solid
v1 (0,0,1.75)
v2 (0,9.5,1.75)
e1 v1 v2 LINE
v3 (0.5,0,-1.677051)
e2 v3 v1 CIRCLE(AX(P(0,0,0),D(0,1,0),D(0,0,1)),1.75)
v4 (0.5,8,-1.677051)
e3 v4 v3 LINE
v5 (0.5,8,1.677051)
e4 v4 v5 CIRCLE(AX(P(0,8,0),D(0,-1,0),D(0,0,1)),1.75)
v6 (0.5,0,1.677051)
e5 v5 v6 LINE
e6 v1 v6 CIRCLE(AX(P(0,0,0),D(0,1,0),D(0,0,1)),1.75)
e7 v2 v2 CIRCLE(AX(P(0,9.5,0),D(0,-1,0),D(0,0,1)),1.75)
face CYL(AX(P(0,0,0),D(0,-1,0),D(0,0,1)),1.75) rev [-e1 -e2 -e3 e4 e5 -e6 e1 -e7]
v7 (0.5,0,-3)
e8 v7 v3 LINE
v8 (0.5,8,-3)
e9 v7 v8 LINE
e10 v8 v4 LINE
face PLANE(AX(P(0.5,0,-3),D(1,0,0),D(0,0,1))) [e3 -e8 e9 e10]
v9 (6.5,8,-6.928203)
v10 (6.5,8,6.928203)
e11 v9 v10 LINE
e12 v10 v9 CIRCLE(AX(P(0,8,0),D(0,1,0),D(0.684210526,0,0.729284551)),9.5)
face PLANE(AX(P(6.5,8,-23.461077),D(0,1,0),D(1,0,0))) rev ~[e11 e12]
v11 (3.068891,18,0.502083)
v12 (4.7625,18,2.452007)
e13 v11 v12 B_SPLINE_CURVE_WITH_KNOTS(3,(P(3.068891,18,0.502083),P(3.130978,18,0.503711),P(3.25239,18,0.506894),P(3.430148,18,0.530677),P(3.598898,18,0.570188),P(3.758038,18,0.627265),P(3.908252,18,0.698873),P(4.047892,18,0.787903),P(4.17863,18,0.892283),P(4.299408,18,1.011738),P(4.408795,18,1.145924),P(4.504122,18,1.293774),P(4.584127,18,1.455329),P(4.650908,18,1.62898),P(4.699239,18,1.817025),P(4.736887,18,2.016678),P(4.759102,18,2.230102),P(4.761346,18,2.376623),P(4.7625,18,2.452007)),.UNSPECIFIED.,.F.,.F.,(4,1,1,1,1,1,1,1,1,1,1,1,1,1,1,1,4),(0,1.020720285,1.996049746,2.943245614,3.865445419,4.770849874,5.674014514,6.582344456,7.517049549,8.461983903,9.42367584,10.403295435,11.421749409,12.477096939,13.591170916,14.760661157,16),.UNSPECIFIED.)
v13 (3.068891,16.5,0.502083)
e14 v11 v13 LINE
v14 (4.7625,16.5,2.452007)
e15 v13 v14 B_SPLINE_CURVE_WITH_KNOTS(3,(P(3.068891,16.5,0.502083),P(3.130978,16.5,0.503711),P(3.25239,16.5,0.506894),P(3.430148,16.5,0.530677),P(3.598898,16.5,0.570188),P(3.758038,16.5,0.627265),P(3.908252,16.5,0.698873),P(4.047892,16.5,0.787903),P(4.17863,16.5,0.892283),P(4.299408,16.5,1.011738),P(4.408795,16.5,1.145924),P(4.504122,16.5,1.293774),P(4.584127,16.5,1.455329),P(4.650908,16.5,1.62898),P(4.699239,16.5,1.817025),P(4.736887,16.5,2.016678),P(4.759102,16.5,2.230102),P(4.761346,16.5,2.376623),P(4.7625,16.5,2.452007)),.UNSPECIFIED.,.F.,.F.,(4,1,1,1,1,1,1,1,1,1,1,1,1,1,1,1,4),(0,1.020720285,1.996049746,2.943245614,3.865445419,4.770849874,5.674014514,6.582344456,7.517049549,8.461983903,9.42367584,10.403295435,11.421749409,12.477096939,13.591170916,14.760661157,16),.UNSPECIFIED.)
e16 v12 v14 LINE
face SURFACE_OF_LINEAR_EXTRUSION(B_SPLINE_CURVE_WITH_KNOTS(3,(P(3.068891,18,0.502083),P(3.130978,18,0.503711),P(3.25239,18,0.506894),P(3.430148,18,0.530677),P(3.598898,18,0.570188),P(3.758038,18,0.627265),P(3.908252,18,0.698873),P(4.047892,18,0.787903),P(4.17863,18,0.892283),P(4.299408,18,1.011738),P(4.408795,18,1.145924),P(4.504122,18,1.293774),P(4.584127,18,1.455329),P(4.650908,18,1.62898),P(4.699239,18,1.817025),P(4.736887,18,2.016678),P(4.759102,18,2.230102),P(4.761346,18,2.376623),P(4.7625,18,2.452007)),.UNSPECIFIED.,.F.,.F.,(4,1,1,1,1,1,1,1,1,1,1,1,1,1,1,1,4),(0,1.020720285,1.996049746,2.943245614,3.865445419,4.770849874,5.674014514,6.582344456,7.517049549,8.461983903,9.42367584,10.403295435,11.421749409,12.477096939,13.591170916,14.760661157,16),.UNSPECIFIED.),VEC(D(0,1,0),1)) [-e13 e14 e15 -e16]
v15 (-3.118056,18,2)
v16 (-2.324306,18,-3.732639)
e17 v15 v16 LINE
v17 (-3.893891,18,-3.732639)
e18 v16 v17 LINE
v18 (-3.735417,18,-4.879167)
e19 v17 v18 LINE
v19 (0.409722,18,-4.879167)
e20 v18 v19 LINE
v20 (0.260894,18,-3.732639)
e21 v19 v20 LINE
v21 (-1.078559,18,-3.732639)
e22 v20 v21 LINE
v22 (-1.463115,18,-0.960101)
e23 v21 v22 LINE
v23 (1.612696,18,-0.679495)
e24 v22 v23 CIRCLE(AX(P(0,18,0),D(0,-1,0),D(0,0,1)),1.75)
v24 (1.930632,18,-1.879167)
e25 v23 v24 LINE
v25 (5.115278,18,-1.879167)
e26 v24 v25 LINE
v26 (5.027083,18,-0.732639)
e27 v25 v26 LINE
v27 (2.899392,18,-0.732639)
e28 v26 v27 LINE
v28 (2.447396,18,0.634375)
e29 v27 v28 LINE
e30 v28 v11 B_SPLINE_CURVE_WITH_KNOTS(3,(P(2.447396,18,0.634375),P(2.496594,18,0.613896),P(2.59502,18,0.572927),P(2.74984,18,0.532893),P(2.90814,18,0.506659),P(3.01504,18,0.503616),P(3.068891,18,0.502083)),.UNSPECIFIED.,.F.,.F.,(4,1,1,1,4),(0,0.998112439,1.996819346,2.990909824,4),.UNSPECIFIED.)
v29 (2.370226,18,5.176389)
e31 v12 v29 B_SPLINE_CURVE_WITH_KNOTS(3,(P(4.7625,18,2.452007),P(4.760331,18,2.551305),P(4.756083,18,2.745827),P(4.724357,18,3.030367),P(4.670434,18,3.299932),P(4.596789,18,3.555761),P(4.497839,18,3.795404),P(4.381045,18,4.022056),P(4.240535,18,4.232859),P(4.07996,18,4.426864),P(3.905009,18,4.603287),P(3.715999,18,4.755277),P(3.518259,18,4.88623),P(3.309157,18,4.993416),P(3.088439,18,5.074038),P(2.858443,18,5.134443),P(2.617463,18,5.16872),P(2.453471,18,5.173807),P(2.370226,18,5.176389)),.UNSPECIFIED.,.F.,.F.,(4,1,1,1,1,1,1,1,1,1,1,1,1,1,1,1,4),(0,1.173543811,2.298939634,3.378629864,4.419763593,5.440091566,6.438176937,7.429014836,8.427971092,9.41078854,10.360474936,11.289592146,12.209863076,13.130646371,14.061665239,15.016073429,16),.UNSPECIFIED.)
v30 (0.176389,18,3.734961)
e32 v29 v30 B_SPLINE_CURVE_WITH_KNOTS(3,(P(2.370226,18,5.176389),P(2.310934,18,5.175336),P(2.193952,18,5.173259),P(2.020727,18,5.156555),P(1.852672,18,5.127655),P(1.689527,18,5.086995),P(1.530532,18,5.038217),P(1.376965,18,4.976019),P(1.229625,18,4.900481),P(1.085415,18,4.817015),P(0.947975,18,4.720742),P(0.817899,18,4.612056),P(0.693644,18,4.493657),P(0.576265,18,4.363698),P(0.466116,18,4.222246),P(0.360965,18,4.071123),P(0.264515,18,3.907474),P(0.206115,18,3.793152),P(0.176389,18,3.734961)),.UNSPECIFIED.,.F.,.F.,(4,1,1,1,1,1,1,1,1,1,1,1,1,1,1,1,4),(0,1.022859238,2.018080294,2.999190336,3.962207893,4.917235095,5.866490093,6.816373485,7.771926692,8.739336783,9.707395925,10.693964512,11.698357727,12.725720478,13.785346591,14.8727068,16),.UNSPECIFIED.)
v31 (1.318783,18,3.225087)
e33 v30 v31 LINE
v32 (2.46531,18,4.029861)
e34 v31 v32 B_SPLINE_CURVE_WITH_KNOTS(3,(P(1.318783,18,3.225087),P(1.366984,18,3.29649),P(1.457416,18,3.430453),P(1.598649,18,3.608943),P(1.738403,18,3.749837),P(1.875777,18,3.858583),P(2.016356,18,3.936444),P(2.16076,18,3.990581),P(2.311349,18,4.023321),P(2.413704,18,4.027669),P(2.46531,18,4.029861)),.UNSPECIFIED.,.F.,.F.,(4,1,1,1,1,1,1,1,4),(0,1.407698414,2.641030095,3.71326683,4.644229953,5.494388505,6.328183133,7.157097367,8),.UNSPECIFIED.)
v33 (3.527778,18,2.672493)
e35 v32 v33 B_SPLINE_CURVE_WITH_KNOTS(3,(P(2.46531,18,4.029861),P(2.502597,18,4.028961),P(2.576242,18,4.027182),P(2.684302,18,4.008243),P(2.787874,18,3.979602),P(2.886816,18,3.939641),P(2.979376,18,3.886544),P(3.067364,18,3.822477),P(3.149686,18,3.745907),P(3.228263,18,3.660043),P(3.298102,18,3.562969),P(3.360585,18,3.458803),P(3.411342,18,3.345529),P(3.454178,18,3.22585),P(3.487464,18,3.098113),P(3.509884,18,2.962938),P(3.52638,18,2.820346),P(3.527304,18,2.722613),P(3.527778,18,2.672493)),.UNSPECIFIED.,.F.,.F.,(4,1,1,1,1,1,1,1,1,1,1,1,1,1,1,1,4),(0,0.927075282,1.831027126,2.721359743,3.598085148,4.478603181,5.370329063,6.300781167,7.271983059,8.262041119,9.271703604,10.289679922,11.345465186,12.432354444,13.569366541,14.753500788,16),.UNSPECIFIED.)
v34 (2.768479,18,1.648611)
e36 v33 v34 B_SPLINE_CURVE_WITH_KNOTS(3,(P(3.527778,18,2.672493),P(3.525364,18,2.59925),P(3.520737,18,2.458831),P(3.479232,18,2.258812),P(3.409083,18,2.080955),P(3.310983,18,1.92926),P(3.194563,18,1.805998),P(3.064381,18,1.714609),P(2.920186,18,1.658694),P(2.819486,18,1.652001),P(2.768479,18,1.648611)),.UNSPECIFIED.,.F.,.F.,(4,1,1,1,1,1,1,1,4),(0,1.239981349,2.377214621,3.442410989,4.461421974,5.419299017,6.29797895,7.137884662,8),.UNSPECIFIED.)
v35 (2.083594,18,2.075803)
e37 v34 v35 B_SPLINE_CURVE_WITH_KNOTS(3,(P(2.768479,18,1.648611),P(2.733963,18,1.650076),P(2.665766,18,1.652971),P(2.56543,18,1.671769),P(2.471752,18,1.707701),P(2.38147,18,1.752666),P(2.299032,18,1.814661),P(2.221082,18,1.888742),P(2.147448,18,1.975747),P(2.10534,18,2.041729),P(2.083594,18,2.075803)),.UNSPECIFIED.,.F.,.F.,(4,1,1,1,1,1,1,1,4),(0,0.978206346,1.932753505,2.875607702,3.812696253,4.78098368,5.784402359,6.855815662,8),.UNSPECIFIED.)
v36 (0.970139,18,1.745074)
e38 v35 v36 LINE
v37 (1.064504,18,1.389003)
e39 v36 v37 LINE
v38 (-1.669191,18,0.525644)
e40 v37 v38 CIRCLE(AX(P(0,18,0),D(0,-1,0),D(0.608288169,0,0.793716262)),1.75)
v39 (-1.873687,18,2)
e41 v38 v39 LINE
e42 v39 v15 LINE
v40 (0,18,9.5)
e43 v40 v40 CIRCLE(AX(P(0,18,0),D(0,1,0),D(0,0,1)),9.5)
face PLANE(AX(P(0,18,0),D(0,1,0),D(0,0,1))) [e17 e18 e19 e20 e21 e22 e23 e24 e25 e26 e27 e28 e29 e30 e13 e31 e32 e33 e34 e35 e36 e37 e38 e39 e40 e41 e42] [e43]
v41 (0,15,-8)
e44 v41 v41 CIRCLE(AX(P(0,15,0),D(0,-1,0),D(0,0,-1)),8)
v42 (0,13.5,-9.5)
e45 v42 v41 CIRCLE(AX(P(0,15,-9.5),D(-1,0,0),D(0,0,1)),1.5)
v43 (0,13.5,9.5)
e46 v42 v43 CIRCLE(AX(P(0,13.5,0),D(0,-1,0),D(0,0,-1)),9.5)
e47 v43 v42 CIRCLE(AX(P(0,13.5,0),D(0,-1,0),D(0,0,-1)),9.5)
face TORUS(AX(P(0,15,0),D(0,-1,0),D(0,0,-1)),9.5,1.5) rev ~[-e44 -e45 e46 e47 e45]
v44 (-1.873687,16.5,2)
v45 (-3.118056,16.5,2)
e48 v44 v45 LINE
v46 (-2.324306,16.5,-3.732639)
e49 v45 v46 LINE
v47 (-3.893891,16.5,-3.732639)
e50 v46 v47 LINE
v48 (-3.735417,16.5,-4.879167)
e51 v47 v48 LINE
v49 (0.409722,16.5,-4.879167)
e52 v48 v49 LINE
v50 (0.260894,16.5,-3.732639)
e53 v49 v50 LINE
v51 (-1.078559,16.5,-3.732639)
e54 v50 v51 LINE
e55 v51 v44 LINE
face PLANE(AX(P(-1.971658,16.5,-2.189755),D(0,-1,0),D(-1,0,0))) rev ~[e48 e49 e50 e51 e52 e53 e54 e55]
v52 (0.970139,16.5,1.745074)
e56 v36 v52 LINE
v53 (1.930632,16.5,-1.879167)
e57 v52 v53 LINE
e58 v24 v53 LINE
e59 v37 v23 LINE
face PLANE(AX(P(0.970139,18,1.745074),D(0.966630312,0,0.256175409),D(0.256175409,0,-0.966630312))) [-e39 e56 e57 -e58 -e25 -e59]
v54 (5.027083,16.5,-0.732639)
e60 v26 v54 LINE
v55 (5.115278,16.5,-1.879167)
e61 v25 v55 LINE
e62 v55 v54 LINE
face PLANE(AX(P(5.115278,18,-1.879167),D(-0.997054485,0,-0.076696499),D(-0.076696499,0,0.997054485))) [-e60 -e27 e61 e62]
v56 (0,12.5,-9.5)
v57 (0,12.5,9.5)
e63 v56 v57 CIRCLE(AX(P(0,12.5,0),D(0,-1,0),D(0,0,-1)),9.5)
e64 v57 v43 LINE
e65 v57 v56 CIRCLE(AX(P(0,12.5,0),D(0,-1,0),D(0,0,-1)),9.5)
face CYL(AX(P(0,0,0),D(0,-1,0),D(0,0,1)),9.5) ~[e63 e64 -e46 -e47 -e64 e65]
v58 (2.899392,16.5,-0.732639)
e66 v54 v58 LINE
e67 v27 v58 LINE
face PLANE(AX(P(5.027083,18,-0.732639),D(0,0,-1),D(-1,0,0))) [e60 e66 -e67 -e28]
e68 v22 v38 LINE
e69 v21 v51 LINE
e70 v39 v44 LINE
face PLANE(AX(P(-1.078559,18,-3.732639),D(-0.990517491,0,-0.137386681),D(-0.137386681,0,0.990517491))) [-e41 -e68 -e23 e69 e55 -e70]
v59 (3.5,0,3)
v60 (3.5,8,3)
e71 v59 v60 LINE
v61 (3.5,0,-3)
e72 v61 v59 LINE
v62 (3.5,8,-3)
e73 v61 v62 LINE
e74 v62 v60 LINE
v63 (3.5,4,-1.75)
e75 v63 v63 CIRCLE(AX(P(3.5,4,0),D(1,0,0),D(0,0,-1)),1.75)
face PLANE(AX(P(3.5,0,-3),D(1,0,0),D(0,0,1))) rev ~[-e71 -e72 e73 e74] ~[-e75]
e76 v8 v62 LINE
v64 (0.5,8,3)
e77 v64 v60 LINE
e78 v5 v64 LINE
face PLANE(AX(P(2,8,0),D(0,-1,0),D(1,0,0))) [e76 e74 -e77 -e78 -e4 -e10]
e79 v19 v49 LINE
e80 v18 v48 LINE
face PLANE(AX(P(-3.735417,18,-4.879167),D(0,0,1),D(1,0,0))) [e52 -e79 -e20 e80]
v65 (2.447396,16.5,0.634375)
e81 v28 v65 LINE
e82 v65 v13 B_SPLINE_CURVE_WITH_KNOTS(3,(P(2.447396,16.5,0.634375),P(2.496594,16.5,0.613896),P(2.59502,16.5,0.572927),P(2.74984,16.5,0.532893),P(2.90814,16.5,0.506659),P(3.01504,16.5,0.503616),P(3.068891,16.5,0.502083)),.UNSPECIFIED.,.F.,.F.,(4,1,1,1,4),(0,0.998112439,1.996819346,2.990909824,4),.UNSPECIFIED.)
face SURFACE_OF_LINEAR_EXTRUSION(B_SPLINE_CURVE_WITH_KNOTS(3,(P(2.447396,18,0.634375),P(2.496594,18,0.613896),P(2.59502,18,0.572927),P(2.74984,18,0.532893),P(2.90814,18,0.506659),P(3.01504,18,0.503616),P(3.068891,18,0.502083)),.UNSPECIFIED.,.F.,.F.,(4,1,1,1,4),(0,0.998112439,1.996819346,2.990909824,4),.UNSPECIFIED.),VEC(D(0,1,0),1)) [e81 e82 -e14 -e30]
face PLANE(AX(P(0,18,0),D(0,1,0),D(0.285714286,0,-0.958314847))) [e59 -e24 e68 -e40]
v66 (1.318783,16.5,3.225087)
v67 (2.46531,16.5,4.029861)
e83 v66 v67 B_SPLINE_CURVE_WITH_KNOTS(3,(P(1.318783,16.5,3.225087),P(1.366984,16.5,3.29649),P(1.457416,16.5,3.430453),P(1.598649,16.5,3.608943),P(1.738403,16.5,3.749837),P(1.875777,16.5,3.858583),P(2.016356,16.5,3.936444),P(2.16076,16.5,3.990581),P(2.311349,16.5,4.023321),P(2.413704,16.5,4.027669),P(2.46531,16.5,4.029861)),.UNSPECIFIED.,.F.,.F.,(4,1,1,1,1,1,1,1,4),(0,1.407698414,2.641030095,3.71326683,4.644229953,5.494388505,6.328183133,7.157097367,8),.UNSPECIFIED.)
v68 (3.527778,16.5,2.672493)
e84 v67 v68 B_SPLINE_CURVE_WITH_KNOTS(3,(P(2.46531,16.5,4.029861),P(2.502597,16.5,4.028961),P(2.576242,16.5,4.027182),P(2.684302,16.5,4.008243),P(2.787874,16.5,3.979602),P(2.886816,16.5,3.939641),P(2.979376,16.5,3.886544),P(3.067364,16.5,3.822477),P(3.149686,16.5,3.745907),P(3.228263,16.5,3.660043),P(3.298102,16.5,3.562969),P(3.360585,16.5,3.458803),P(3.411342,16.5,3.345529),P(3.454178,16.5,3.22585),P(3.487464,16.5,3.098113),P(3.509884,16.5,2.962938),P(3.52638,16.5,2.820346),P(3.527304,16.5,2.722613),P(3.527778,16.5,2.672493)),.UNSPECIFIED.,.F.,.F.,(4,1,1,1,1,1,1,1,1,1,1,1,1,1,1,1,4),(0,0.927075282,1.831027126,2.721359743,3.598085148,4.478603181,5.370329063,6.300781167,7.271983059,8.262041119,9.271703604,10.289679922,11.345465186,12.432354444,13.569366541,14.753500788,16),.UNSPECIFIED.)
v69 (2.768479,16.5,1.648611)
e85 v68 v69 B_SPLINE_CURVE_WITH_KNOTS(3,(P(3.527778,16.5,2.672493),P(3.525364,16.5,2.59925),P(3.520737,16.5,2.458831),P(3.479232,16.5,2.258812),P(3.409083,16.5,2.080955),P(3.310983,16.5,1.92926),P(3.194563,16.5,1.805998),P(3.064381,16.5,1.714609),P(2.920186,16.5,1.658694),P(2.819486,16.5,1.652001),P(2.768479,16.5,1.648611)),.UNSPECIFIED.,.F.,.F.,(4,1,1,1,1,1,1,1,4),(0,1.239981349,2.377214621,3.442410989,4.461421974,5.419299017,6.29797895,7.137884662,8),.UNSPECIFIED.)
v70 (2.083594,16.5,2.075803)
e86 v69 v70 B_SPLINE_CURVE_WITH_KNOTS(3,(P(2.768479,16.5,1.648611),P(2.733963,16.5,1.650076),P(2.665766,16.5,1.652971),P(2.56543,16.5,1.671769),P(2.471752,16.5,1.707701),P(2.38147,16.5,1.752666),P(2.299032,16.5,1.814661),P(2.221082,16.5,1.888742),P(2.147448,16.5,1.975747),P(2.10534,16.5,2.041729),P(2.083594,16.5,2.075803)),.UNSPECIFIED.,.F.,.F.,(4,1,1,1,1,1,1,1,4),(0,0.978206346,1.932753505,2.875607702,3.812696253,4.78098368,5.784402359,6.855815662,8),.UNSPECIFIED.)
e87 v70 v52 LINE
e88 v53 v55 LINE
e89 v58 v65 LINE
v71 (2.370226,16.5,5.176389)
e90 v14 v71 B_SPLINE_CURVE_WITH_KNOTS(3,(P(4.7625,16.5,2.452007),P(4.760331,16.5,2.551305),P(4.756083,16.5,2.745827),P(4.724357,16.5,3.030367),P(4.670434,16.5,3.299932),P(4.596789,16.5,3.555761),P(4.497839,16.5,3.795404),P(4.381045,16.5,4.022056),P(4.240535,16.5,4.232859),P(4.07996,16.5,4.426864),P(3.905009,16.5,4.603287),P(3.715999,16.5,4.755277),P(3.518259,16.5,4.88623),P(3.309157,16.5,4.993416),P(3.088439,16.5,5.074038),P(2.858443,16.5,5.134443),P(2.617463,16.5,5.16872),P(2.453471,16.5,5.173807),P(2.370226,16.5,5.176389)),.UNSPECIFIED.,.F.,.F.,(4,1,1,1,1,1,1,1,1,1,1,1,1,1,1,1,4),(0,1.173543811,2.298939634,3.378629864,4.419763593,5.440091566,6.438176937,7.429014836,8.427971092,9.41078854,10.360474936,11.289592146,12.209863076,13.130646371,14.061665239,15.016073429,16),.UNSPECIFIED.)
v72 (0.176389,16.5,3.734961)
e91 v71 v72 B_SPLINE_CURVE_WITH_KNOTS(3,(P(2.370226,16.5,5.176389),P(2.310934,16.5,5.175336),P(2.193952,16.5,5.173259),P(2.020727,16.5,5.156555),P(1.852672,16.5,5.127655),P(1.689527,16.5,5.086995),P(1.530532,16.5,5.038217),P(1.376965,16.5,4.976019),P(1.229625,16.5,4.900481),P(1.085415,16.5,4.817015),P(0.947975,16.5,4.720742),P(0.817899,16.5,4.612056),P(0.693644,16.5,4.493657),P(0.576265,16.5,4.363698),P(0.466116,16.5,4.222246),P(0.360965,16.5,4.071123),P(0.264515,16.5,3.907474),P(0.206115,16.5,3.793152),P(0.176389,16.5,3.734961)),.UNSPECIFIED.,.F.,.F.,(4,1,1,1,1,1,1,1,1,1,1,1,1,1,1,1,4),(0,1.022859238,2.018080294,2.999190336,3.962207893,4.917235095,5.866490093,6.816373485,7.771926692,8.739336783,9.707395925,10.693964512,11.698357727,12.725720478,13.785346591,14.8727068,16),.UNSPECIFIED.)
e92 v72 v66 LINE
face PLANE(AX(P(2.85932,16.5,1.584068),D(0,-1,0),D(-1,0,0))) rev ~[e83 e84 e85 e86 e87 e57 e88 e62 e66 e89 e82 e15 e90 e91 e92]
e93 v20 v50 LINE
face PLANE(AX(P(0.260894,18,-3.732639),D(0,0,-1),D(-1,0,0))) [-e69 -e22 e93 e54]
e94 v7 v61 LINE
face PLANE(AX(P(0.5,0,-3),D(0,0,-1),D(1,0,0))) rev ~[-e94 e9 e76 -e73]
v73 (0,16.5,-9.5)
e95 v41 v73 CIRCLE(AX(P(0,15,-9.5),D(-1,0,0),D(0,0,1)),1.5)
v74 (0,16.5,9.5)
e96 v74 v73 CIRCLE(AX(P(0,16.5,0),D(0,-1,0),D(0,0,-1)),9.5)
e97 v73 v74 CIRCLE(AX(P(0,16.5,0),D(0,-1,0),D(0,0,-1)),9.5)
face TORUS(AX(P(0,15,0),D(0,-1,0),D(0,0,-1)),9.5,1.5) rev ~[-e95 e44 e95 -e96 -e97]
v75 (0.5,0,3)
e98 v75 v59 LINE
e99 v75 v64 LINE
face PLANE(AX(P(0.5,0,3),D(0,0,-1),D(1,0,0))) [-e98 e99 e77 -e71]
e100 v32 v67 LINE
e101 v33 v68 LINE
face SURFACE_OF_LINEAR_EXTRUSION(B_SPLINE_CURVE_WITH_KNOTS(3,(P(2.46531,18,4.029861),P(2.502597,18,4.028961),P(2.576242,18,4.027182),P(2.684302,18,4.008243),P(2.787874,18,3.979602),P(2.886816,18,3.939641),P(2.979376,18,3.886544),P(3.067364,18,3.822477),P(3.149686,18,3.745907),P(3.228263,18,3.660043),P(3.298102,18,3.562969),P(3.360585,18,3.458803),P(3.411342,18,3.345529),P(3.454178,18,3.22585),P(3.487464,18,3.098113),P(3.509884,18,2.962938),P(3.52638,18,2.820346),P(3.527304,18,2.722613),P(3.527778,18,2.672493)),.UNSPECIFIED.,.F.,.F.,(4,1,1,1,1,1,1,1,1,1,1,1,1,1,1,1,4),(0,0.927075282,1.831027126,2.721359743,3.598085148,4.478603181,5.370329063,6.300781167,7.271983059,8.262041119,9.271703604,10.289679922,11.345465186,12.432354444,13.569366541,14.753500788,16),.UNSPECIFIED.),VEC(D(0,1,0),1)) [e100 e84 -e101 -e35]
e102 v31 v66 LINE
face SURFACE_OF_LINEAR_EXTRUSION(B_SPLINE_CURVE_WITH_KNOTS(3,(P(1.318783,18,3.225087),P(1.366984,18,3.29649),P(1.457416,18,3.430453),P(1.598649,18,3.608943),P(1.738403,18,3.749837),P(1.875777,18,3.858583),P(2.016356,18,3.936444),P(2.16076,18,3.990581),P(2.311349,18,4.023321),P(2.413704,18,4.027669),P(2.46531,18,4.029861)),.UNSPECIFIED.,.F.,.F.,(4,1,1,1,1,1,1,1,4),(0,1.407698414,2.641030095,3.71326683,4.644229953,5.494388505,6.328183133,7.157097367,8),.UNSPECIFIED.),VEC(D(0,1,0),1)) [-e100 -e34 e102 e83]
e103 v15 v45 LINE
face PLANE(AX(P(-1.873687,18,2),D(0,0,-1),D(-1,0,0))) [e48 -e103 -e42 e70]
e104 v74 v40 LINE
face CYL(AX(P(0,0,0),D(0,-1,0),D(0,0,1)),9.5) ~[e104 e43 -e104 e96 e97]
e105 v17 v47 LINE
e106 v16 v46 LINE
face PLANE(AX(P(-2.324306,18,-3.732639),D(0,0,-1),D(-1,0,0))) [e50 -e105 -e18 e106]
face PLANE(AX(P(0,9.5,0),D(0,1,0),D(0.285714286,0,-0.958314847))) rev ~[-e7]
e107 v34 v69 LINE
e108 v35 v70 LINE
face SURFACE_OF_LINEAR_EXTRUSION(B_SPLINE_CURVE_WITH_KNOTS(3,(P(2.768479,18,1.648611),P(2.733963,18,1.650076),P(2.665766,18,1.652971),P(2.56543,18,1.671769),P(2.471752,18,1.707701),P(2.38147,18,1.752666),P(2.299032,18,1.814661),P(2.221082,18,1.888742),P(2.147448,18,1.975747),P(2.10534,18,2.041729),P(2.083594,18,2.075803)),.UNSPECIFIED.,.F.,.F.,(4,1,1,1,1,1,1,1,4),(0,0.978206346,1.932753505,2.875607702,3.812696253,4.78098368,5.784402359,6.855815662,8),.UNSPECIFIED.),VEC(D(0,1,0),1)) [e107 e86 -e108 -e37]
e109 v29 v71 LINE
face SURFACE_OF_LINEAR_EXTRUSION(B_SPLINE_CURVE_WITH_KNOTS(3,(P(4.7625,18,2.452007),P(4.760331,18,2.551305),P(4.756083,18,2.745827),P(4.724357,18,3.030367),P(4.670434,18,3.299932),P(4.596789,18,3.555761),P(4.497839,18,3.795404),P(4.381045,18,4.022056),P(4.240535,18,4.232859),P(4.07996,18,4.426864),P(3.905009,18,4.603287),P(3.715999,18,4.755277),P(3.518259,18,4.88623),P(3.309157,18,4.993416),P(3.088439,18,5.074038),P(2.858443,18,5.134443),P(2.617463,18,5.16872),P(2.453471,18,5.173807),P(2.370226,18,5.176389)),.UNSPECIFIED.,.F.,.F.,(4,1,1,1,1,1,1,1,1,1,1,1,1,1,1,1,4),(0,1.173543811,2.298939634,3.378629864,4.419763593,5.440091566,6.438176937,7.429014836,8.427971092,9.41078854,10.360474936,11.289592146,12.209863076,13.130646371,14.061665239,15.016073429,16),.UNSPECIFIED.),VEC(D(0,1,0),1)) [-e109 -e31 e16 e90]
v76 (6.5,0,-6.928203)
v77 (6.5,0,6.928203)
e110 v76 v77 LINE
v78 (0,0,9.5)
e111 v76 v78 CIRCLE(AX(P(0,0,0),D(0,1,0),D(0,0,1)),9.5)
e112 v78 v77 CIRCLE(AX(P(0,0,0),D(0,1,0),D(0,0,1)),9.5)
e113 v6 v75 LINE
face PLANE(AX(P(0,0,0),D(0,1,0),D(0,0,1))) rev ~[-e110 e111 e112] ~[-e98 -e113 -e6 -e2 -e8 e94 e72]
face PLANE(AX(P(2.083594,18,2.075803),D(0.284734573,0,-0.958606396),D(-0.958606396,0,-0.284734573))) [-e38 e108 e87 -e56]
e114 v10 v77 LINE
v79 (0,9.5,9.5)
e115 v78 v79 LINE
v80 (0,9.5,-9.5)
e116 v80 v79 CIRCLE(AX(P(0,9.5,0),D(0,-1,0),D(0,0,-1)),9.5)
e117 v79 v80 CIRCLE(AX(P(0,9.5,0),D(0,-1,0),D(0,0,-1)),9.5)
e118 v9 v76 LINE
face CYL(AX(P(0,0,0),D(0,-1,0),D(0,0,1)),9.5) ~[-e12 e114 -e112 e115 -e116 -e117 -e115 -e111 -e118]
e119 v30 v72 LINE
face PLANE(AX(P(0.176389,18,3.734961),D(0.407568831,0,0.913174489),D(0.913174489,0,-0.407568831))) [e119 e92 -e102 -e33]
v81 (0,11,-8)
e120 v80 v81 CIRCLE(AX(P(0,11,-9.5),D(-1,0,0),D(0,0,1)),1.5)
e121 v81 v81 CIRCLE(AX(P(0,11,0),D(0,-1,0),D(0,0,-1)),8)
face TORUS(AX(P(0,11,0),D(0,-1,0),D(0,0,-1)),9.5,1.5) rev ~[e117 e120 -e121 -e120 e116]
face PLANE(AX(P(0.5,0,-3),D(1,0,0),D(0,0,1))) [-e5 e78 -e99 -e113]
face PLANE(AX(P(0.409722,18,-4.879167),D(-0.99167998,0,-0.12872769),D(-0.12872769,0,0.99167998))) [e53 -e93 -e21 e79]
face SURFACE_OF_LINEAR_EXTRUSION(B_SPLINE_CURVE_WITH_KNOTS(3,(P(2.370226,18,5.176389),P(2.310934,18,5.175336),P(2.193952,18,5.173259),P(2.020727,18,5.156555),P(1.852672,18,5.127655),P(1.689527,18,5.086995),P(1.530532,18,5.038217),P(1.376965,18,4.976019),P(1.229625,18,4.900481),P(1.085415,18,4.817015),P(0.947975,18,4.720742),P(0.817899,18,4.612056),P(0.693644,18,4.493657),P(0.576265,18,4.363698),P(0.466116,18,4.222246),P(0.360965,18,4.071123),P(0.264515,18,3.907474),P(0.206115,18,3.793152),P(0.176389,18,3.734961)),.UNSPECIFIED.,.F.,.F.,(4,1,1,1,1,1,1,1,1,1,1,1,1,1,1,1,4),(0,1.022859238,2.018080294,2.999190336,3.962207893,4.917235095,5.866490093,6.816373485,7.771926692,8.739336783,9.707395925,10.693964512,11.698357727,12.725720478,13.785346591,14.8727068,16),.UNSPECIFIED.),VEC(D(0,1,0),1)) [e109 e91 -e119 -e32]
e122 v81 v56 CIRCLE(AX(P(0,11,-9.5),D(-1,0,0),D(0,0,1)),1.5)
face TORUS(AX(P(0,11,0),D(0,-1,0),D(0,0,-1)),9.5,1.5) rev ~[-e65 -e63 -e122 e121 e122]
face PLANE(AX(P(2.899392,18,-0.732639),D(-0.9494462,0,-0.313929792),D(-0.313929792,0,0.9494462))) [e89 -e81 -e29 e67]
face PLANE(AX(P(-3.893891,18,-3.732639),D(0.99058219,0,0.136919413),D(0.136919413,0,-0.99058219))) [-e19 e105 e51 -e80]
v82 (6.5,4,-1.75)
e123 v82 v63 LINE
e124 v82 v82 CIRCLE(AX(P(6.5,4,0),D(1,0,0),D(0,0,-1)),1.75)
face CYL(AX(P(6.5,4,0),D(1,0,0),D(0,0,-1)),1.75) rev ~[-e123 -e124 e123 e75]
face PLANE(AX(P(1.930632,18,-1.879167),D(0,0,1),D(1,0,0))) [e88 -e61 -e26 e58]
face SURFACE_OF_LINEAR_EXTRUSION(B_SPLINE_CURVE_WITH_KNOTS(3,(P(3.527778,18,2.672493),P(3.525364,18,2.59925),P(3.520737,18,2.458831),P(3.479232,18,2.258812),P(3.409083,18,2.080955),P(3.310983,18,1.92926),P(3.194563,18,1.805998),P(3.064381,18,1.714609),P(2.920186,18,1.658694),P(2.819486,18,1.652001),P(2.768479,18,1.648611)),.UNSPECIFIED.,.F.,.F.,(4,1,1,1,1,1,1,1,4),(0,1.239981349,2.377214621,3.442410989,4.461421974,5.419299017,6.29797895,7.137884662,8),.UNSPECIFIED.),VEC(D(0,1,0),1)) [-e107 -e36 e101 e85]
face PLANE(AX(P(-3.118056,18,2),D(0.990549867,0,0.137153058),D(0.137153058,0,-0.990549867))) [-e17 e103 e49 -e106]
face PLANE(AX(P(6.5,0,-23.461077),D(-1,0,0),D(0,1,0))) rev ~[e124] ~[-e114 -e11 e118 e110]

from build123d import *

# Parameters (mm, degrees)
SKETCH1_R               = 9.5
SKETCH1_R_2             = 1.75
BOSS_EXTRUDE1_DEPTH     = 18
SKETCH2_R               = 1.5
CUT_EXTRUDE1_DEPTH      = 23.461077445
CUT_EXTRUDE1_DEPTH_BACK = 23.461077445
SKETCH3_W               = 3
SKETCH3_H               = 8
SKETCH4_W               = 3
SKETCH4_H               = 6
CUT_EXTRUDE2_DEPTH      = 8
CUT_EXTRUDE3_REACH      = 27.889
SKETCH5_R               = 1.75
BOSS_EXTRUDE2_START     = -8.5
SKETCH6_R               = 1.75
BOSS_EXTRUDE2_DEPTH     = 8.5
CUT_EXTRUDE4_DEPTH      = 1.5


with BuildPart() as part:
    # Sketch1 → Boss-Extrude1 (new body)
    with BuildSketch(Plane(origin=(0, 0, 0), x_dir=(1, 0, 0), z_dir=(0, 1, 0))):
        with Locations(Location((0, 0, 0), (0, 0, 270))):
            Circle(SKETCH1_R)
        with Locations(Location((0, 0, 0), (0, 0, 270))):
            Circle(SKETCH1_R_2, mode=Mode.SUBTRACT)
    extrude(amount=BOSS_EXTRUDE1_DEPTH)

    # Sketch2 → Cut-Revolve1 (revolve, cut)
    with BuildSketch(Plane(origin=(0, 0, 0), x_dir=(0, 0, -1), z_dir=(1, 0, 0)), mode=Mode.PRIVATE) as cut_revolve1_sk:
        with Locations((-9.5, 15)):
            Circle(SKETCH2_R)
        with Locations((-9.5, 11)):
            Circle(SKETCH2_R)
    revolve(cut_revolve1_sk.sketch.rotate(Axis((0, 18, 0), (0, -1, 0)), 180), axis=Axis((0, 18, 0), (0, -1, 0)), mode=Mode.SUBTRACT)

    # Sketch3 → Cut-Extrude1 (cut, two sides: drawn at the far end of the back side and taken through both)
    with BuildSketch(Plane.XY.offset(-CUT_EXTRUDE1_DEPTH_BACK)):
        with Locations((8, 4)):
            Rectangle(SKETCH3_W, SKETCH3_H)
    extrude(amount=CUT_EXTRUDE1_DEPTH + CUT_EXTRUDE1_DEPTH_BACK, mode=Mode.SUBTRACT)

    # Sketch4 → Cut-Extrude2 (cut)
    with BuildSketch(Plane.XZ):
        with Locations((2, 0)):
            Rectangle(SKETCH4_W, SKETCH4_H)
    extrude(amount=-CUT_EXTRUDE2_DEPTH, mode=Mode.SUBTRACT)

    # Sketch5 → Cut-Extrude3 (cut, up to next)
    with BuildSketch(Plane(origin=(6.5, 0, 0), x_dir=(0, 0, -1), z_dir=(1, 0, 0)), mode=Mode.PRIVATE) as cut_extrude3_sk1:
        with Locations((0, 4)):
            Circle(SKETCH5_R)
    cut_extrude3_tool1 = extrude(cut_extrude3_sk1.sketch, amount=-CUT_EXTRUDE3_REACH, mode=Mode.PRIVATE) & part.part
    add(cut_extrude3_tool1.solids().sort_by_distance((6.5, 4, 0))[0], mode=Mode.SUBTRACT)

    # Sketch6 → Boss-Extrude2 (add)
    with BuildSketch(Plane(origin=(0, 18, 0), x_dir=(1, 0, 0), z_dir=(0, 1, 0)).offset(BOSS_EXTRUDE2_START)):
        with Locations(Location((0, 0, 0), (0, 0, 73.398450401))):
            Circle(SKETCH6_R)
    extrude(amount=BOSS_EXTRUDE2_DEPTH)

    # Sketch7 → Cut-Extrude4 (cut)
    with BuildSketch(Plane(origin=(0, 18, 0), x_dir=(1, 0, 0), z_dir=(0, 1, 0))):
        Polygon((-3.735416667, 4.879166667), (0.409722222, 4.879166667), (0.260894097, 3.732638889), (-1.078559028, 3.732638889), (-1.873687066, -2), (-3.118055556, -2), (-2.324305556, 3.732638889), (-3.893891059, 3.732638889), align=None)
        with BuildLine():
            Line((1.93063151, 1.879166667), (5.115277778, 1.879166667))
            Line((5.115277778, 1.879166667), (5.027083333, 0.732638889))
            Line((5.027083333, 0.732638889), (2.899392361, 0.732638889))
            Line((2.899392361, 0.732638889), (2.447395833, -0.634375))
            add(Edge.make_bspline(
                [(2.447395833, -0.634375), (2.496594075, -0.613896402), (2.595019861, -0.57292701), (2.749839769, -0.532892585), (2.908139813, -0.506658512), (3.015040488, -0.503615987), (3.068891059, -0.502083333)],
                knots=[0, 0, 0, 0, 0.998112439, 1.996819346, 2.990909824, 4, 4, 4, 4], degree=3))
            add(Edge.make_bspline(
                [(3.068891059, -0.502083333), (3.130977849, -0.503710927), (3.252390467, -0.506893737), (3.430147714, -0.530676662), (3.598897739, -0.570188022), (3.758037558, -0.627264893), (3.908251801, -0.698872885), (4.047892395, -0.787903157), (4.178629893, -0.892282921), (4.299407696, -1.011738133), (4.408795358, -1.145923516), (4.504121795, -1.293773987), (4.584127105, -1.455328827), (4.650907598, -1.628980167), (4.699239379, -1.817024844), (4.736887191, -2.016677617), (4.75910168, -2.230101729), (4.761345538, -2.376622611), (4.7625, -2.452007378)],
                knots=[0, 0, 0, 0, 1.020720285, 1.996049746, 2.943245614, 3.865445419, 4.770849874, 5.674014514, 6.582344456, 7.517049549, 8.461983903, 9.42367584, 10.403295435, 11.421749409, 12.477096939, 13.591170916, 14.760661157, 16, 16, 16, 16], degree=3))
            add(Edge.make_bspline(
                [(4.7625, -2.452007378), (4.760331263, -2.551305248), (4.756082769, -2.745827008), (4.724357481, -3.030366667), (4.670434408, -3.299932267), (4.596788587, -3.55576096), (4.497839346, -3.795403814), (4.381045078, -4.022055988), (4.240535383, -4.23285879), (4.079959926, -4.426863528), (3.90500901, -4.6032865), (3.715999291, -4.755276836), (3.51825895, -4.886229848), (3.309156679, -4.99341577), (3.088438962, -5.074038184), (2.858442877, -5.134443243), (2.617463381, -5.168719531), (2.453470724, -5.173806613), (2.370225694, -5.176388889)],
                knots=[0, 0, 0, 0, 1.173543811, 2.298939634, 3.378629864, 4.419763593, 5.440091566, 6.438176937, 7.429014836, 8.427971092, 9.41078854, 10.360474936, 11.289592146, 12.209863076, 13.130646371, 14.061665239, 15.016073429, 16, 16, 16, 16], degree=3))
            add(Edge.make_bspline(
                [(2.370225694, -5.176388889), (2.310933889, -5.175336104), (2.193952372, -5.173258982), (2.020726741, -5.156555087), (1.852671583, -5.127655453), (1.689527041, -5.086994539), (1.530531877, -5.038216677), (1.376964542, -4.976019014), (1.229625203, -4.900480546), (1.08541527, -4.817015387), (0.94797473, -4.720741688), (0.817898945, -4.612055658), (0.693643574, -4.493656656), (0.576265412, -4.363698122), (0.466116126, -4.222246293), (0.360964906, -4.071122574), (0.264514937, -3.907473589), (0.206115245, -3.793152274), (0.176388889, -3.734960938)],
                knots=[0, 0, 0, 0, 1.022859238, 2.018080294, 2.999190336, 3.962207893, 4.917235095, 5.866490093, 6.816373485, 7.771926692, 8.739336783, 9.707395925, 10.693964512, 11.698357727, 12.725720478, 13.785346591, 14.8727068, 16, 16, 16, 16], degree=3))
            Line((0.176388889, -3.734960938), (1.318782552, -3.225086806))
            add(Edge.make_bspline(
                [(1.318782552, -3.225086806), (1.366983822, -3.296490214), (1.457415836, -3.430452538), (1.598648511, -3.608942531), (1.738402882, -3.749836535), (1.87577747, -3.85858293), (2.016355711, -3.936444461), (2.160759687, -3.990581364), (2.311349194, -4.023320871), (2.413704476, -4.027668904), (2.46531033, -4.029861111)],
                knots=[0, 0, 0, 0, 1.407698414, 2.641030095, 3.71326683, 4.644229953, 5.494388505, 6.328183133, 7.157097367, 8, 8, 8, 8], degree=3))
            add(Edge.make_bspline(
                [(2.46531033, -4.029861111), (2.502597477, -4.028960648), (2.576241743, -4.027182182), (2.684301906, -4.008243163), (2.787874215, -3.97960222), (2.886816155, -3.939640908), (2.979376072, -3.886543817), (3.067364075, -3.822476619), (3.149686009, -3.745907333), (3.2282627, -3.660042601), (3.298101555, -3.562969472), (3.360585167, -3.458803462), (3.411342282, -3.34552927), (3.454177874, -3.225850289), (3.487464002, -3.098113353), (3.509883951, -2.962938195), (3.526380141, -2.82034566), (3.527303997, -2.722613415), (3.527777778, -2.67249349)],
                knots=[0, 0, 0, 0, 0.927075282, 1.831027126, 2.721359743, 3.598085148, 4.478603181, 5.370329063, 6.300781167, 7.271983059, 8.262041119, 9.271703604, 10.289679922, 11.345465186, 12.432354444, 13.569366541, 14.753500788, 16, 16, 16, 16], degree=3))
            add(Edge.make_bspline(
                [(3.527777778, -2.67249349), (3.525364071, -2.599249545), (3.520736664, -2.45883084), (3.479231749, -2.258812343), (3.4090829, -2.080955219), (3.310983371, -1.92926026), (3.194562907, -1.805997587), (3.06438106, -1.714608894), (2.920185823, -1.658694036), (2.819485773, -1.652001198), (2.768478733, -1.648611111)],
                knots=[0, 0, 0, 0, 1.239981349, 2.377214621, 3.442410989, 4.461421974, 5.419299017, 6.29797895, 7.137884662, 8, 8, 8, 8], degree=3))
            add(Edge.make_bspline(
                [(2.768478733, -1.648611111), (2.733962981, -1.650076188), (2.665766285, -1.652970908), (2.565430302, -1.671769102), (2.471751626, -1.70770096), (2.381470388, -1.752665642), (2.299031841, -1.814661474), (2.221082072, -1.888742142), (2.147448466, -1.975747239), (2.105339675, -2.041728663), (2.08359375, -2.075802951)],
                knots=[0, 0, 0, 0, 0.978206346, 1.932753505, 2.875607702, 3.812696253, 4.78098368, 5.784402359, 6.855815662, 8, 8, 8, 8], degree=3))
            Line((2.08359375, -2.075802951), (0.970138889, -1.745073785))
            Line((0.970138889, -1.745073785), (1.93063151, 1.879166667))
        make_face()
    extrude(amount=-CUT_EXTRUDE4_DEPTH, mode=Mode.SUBTRACT)


solid = part.part
